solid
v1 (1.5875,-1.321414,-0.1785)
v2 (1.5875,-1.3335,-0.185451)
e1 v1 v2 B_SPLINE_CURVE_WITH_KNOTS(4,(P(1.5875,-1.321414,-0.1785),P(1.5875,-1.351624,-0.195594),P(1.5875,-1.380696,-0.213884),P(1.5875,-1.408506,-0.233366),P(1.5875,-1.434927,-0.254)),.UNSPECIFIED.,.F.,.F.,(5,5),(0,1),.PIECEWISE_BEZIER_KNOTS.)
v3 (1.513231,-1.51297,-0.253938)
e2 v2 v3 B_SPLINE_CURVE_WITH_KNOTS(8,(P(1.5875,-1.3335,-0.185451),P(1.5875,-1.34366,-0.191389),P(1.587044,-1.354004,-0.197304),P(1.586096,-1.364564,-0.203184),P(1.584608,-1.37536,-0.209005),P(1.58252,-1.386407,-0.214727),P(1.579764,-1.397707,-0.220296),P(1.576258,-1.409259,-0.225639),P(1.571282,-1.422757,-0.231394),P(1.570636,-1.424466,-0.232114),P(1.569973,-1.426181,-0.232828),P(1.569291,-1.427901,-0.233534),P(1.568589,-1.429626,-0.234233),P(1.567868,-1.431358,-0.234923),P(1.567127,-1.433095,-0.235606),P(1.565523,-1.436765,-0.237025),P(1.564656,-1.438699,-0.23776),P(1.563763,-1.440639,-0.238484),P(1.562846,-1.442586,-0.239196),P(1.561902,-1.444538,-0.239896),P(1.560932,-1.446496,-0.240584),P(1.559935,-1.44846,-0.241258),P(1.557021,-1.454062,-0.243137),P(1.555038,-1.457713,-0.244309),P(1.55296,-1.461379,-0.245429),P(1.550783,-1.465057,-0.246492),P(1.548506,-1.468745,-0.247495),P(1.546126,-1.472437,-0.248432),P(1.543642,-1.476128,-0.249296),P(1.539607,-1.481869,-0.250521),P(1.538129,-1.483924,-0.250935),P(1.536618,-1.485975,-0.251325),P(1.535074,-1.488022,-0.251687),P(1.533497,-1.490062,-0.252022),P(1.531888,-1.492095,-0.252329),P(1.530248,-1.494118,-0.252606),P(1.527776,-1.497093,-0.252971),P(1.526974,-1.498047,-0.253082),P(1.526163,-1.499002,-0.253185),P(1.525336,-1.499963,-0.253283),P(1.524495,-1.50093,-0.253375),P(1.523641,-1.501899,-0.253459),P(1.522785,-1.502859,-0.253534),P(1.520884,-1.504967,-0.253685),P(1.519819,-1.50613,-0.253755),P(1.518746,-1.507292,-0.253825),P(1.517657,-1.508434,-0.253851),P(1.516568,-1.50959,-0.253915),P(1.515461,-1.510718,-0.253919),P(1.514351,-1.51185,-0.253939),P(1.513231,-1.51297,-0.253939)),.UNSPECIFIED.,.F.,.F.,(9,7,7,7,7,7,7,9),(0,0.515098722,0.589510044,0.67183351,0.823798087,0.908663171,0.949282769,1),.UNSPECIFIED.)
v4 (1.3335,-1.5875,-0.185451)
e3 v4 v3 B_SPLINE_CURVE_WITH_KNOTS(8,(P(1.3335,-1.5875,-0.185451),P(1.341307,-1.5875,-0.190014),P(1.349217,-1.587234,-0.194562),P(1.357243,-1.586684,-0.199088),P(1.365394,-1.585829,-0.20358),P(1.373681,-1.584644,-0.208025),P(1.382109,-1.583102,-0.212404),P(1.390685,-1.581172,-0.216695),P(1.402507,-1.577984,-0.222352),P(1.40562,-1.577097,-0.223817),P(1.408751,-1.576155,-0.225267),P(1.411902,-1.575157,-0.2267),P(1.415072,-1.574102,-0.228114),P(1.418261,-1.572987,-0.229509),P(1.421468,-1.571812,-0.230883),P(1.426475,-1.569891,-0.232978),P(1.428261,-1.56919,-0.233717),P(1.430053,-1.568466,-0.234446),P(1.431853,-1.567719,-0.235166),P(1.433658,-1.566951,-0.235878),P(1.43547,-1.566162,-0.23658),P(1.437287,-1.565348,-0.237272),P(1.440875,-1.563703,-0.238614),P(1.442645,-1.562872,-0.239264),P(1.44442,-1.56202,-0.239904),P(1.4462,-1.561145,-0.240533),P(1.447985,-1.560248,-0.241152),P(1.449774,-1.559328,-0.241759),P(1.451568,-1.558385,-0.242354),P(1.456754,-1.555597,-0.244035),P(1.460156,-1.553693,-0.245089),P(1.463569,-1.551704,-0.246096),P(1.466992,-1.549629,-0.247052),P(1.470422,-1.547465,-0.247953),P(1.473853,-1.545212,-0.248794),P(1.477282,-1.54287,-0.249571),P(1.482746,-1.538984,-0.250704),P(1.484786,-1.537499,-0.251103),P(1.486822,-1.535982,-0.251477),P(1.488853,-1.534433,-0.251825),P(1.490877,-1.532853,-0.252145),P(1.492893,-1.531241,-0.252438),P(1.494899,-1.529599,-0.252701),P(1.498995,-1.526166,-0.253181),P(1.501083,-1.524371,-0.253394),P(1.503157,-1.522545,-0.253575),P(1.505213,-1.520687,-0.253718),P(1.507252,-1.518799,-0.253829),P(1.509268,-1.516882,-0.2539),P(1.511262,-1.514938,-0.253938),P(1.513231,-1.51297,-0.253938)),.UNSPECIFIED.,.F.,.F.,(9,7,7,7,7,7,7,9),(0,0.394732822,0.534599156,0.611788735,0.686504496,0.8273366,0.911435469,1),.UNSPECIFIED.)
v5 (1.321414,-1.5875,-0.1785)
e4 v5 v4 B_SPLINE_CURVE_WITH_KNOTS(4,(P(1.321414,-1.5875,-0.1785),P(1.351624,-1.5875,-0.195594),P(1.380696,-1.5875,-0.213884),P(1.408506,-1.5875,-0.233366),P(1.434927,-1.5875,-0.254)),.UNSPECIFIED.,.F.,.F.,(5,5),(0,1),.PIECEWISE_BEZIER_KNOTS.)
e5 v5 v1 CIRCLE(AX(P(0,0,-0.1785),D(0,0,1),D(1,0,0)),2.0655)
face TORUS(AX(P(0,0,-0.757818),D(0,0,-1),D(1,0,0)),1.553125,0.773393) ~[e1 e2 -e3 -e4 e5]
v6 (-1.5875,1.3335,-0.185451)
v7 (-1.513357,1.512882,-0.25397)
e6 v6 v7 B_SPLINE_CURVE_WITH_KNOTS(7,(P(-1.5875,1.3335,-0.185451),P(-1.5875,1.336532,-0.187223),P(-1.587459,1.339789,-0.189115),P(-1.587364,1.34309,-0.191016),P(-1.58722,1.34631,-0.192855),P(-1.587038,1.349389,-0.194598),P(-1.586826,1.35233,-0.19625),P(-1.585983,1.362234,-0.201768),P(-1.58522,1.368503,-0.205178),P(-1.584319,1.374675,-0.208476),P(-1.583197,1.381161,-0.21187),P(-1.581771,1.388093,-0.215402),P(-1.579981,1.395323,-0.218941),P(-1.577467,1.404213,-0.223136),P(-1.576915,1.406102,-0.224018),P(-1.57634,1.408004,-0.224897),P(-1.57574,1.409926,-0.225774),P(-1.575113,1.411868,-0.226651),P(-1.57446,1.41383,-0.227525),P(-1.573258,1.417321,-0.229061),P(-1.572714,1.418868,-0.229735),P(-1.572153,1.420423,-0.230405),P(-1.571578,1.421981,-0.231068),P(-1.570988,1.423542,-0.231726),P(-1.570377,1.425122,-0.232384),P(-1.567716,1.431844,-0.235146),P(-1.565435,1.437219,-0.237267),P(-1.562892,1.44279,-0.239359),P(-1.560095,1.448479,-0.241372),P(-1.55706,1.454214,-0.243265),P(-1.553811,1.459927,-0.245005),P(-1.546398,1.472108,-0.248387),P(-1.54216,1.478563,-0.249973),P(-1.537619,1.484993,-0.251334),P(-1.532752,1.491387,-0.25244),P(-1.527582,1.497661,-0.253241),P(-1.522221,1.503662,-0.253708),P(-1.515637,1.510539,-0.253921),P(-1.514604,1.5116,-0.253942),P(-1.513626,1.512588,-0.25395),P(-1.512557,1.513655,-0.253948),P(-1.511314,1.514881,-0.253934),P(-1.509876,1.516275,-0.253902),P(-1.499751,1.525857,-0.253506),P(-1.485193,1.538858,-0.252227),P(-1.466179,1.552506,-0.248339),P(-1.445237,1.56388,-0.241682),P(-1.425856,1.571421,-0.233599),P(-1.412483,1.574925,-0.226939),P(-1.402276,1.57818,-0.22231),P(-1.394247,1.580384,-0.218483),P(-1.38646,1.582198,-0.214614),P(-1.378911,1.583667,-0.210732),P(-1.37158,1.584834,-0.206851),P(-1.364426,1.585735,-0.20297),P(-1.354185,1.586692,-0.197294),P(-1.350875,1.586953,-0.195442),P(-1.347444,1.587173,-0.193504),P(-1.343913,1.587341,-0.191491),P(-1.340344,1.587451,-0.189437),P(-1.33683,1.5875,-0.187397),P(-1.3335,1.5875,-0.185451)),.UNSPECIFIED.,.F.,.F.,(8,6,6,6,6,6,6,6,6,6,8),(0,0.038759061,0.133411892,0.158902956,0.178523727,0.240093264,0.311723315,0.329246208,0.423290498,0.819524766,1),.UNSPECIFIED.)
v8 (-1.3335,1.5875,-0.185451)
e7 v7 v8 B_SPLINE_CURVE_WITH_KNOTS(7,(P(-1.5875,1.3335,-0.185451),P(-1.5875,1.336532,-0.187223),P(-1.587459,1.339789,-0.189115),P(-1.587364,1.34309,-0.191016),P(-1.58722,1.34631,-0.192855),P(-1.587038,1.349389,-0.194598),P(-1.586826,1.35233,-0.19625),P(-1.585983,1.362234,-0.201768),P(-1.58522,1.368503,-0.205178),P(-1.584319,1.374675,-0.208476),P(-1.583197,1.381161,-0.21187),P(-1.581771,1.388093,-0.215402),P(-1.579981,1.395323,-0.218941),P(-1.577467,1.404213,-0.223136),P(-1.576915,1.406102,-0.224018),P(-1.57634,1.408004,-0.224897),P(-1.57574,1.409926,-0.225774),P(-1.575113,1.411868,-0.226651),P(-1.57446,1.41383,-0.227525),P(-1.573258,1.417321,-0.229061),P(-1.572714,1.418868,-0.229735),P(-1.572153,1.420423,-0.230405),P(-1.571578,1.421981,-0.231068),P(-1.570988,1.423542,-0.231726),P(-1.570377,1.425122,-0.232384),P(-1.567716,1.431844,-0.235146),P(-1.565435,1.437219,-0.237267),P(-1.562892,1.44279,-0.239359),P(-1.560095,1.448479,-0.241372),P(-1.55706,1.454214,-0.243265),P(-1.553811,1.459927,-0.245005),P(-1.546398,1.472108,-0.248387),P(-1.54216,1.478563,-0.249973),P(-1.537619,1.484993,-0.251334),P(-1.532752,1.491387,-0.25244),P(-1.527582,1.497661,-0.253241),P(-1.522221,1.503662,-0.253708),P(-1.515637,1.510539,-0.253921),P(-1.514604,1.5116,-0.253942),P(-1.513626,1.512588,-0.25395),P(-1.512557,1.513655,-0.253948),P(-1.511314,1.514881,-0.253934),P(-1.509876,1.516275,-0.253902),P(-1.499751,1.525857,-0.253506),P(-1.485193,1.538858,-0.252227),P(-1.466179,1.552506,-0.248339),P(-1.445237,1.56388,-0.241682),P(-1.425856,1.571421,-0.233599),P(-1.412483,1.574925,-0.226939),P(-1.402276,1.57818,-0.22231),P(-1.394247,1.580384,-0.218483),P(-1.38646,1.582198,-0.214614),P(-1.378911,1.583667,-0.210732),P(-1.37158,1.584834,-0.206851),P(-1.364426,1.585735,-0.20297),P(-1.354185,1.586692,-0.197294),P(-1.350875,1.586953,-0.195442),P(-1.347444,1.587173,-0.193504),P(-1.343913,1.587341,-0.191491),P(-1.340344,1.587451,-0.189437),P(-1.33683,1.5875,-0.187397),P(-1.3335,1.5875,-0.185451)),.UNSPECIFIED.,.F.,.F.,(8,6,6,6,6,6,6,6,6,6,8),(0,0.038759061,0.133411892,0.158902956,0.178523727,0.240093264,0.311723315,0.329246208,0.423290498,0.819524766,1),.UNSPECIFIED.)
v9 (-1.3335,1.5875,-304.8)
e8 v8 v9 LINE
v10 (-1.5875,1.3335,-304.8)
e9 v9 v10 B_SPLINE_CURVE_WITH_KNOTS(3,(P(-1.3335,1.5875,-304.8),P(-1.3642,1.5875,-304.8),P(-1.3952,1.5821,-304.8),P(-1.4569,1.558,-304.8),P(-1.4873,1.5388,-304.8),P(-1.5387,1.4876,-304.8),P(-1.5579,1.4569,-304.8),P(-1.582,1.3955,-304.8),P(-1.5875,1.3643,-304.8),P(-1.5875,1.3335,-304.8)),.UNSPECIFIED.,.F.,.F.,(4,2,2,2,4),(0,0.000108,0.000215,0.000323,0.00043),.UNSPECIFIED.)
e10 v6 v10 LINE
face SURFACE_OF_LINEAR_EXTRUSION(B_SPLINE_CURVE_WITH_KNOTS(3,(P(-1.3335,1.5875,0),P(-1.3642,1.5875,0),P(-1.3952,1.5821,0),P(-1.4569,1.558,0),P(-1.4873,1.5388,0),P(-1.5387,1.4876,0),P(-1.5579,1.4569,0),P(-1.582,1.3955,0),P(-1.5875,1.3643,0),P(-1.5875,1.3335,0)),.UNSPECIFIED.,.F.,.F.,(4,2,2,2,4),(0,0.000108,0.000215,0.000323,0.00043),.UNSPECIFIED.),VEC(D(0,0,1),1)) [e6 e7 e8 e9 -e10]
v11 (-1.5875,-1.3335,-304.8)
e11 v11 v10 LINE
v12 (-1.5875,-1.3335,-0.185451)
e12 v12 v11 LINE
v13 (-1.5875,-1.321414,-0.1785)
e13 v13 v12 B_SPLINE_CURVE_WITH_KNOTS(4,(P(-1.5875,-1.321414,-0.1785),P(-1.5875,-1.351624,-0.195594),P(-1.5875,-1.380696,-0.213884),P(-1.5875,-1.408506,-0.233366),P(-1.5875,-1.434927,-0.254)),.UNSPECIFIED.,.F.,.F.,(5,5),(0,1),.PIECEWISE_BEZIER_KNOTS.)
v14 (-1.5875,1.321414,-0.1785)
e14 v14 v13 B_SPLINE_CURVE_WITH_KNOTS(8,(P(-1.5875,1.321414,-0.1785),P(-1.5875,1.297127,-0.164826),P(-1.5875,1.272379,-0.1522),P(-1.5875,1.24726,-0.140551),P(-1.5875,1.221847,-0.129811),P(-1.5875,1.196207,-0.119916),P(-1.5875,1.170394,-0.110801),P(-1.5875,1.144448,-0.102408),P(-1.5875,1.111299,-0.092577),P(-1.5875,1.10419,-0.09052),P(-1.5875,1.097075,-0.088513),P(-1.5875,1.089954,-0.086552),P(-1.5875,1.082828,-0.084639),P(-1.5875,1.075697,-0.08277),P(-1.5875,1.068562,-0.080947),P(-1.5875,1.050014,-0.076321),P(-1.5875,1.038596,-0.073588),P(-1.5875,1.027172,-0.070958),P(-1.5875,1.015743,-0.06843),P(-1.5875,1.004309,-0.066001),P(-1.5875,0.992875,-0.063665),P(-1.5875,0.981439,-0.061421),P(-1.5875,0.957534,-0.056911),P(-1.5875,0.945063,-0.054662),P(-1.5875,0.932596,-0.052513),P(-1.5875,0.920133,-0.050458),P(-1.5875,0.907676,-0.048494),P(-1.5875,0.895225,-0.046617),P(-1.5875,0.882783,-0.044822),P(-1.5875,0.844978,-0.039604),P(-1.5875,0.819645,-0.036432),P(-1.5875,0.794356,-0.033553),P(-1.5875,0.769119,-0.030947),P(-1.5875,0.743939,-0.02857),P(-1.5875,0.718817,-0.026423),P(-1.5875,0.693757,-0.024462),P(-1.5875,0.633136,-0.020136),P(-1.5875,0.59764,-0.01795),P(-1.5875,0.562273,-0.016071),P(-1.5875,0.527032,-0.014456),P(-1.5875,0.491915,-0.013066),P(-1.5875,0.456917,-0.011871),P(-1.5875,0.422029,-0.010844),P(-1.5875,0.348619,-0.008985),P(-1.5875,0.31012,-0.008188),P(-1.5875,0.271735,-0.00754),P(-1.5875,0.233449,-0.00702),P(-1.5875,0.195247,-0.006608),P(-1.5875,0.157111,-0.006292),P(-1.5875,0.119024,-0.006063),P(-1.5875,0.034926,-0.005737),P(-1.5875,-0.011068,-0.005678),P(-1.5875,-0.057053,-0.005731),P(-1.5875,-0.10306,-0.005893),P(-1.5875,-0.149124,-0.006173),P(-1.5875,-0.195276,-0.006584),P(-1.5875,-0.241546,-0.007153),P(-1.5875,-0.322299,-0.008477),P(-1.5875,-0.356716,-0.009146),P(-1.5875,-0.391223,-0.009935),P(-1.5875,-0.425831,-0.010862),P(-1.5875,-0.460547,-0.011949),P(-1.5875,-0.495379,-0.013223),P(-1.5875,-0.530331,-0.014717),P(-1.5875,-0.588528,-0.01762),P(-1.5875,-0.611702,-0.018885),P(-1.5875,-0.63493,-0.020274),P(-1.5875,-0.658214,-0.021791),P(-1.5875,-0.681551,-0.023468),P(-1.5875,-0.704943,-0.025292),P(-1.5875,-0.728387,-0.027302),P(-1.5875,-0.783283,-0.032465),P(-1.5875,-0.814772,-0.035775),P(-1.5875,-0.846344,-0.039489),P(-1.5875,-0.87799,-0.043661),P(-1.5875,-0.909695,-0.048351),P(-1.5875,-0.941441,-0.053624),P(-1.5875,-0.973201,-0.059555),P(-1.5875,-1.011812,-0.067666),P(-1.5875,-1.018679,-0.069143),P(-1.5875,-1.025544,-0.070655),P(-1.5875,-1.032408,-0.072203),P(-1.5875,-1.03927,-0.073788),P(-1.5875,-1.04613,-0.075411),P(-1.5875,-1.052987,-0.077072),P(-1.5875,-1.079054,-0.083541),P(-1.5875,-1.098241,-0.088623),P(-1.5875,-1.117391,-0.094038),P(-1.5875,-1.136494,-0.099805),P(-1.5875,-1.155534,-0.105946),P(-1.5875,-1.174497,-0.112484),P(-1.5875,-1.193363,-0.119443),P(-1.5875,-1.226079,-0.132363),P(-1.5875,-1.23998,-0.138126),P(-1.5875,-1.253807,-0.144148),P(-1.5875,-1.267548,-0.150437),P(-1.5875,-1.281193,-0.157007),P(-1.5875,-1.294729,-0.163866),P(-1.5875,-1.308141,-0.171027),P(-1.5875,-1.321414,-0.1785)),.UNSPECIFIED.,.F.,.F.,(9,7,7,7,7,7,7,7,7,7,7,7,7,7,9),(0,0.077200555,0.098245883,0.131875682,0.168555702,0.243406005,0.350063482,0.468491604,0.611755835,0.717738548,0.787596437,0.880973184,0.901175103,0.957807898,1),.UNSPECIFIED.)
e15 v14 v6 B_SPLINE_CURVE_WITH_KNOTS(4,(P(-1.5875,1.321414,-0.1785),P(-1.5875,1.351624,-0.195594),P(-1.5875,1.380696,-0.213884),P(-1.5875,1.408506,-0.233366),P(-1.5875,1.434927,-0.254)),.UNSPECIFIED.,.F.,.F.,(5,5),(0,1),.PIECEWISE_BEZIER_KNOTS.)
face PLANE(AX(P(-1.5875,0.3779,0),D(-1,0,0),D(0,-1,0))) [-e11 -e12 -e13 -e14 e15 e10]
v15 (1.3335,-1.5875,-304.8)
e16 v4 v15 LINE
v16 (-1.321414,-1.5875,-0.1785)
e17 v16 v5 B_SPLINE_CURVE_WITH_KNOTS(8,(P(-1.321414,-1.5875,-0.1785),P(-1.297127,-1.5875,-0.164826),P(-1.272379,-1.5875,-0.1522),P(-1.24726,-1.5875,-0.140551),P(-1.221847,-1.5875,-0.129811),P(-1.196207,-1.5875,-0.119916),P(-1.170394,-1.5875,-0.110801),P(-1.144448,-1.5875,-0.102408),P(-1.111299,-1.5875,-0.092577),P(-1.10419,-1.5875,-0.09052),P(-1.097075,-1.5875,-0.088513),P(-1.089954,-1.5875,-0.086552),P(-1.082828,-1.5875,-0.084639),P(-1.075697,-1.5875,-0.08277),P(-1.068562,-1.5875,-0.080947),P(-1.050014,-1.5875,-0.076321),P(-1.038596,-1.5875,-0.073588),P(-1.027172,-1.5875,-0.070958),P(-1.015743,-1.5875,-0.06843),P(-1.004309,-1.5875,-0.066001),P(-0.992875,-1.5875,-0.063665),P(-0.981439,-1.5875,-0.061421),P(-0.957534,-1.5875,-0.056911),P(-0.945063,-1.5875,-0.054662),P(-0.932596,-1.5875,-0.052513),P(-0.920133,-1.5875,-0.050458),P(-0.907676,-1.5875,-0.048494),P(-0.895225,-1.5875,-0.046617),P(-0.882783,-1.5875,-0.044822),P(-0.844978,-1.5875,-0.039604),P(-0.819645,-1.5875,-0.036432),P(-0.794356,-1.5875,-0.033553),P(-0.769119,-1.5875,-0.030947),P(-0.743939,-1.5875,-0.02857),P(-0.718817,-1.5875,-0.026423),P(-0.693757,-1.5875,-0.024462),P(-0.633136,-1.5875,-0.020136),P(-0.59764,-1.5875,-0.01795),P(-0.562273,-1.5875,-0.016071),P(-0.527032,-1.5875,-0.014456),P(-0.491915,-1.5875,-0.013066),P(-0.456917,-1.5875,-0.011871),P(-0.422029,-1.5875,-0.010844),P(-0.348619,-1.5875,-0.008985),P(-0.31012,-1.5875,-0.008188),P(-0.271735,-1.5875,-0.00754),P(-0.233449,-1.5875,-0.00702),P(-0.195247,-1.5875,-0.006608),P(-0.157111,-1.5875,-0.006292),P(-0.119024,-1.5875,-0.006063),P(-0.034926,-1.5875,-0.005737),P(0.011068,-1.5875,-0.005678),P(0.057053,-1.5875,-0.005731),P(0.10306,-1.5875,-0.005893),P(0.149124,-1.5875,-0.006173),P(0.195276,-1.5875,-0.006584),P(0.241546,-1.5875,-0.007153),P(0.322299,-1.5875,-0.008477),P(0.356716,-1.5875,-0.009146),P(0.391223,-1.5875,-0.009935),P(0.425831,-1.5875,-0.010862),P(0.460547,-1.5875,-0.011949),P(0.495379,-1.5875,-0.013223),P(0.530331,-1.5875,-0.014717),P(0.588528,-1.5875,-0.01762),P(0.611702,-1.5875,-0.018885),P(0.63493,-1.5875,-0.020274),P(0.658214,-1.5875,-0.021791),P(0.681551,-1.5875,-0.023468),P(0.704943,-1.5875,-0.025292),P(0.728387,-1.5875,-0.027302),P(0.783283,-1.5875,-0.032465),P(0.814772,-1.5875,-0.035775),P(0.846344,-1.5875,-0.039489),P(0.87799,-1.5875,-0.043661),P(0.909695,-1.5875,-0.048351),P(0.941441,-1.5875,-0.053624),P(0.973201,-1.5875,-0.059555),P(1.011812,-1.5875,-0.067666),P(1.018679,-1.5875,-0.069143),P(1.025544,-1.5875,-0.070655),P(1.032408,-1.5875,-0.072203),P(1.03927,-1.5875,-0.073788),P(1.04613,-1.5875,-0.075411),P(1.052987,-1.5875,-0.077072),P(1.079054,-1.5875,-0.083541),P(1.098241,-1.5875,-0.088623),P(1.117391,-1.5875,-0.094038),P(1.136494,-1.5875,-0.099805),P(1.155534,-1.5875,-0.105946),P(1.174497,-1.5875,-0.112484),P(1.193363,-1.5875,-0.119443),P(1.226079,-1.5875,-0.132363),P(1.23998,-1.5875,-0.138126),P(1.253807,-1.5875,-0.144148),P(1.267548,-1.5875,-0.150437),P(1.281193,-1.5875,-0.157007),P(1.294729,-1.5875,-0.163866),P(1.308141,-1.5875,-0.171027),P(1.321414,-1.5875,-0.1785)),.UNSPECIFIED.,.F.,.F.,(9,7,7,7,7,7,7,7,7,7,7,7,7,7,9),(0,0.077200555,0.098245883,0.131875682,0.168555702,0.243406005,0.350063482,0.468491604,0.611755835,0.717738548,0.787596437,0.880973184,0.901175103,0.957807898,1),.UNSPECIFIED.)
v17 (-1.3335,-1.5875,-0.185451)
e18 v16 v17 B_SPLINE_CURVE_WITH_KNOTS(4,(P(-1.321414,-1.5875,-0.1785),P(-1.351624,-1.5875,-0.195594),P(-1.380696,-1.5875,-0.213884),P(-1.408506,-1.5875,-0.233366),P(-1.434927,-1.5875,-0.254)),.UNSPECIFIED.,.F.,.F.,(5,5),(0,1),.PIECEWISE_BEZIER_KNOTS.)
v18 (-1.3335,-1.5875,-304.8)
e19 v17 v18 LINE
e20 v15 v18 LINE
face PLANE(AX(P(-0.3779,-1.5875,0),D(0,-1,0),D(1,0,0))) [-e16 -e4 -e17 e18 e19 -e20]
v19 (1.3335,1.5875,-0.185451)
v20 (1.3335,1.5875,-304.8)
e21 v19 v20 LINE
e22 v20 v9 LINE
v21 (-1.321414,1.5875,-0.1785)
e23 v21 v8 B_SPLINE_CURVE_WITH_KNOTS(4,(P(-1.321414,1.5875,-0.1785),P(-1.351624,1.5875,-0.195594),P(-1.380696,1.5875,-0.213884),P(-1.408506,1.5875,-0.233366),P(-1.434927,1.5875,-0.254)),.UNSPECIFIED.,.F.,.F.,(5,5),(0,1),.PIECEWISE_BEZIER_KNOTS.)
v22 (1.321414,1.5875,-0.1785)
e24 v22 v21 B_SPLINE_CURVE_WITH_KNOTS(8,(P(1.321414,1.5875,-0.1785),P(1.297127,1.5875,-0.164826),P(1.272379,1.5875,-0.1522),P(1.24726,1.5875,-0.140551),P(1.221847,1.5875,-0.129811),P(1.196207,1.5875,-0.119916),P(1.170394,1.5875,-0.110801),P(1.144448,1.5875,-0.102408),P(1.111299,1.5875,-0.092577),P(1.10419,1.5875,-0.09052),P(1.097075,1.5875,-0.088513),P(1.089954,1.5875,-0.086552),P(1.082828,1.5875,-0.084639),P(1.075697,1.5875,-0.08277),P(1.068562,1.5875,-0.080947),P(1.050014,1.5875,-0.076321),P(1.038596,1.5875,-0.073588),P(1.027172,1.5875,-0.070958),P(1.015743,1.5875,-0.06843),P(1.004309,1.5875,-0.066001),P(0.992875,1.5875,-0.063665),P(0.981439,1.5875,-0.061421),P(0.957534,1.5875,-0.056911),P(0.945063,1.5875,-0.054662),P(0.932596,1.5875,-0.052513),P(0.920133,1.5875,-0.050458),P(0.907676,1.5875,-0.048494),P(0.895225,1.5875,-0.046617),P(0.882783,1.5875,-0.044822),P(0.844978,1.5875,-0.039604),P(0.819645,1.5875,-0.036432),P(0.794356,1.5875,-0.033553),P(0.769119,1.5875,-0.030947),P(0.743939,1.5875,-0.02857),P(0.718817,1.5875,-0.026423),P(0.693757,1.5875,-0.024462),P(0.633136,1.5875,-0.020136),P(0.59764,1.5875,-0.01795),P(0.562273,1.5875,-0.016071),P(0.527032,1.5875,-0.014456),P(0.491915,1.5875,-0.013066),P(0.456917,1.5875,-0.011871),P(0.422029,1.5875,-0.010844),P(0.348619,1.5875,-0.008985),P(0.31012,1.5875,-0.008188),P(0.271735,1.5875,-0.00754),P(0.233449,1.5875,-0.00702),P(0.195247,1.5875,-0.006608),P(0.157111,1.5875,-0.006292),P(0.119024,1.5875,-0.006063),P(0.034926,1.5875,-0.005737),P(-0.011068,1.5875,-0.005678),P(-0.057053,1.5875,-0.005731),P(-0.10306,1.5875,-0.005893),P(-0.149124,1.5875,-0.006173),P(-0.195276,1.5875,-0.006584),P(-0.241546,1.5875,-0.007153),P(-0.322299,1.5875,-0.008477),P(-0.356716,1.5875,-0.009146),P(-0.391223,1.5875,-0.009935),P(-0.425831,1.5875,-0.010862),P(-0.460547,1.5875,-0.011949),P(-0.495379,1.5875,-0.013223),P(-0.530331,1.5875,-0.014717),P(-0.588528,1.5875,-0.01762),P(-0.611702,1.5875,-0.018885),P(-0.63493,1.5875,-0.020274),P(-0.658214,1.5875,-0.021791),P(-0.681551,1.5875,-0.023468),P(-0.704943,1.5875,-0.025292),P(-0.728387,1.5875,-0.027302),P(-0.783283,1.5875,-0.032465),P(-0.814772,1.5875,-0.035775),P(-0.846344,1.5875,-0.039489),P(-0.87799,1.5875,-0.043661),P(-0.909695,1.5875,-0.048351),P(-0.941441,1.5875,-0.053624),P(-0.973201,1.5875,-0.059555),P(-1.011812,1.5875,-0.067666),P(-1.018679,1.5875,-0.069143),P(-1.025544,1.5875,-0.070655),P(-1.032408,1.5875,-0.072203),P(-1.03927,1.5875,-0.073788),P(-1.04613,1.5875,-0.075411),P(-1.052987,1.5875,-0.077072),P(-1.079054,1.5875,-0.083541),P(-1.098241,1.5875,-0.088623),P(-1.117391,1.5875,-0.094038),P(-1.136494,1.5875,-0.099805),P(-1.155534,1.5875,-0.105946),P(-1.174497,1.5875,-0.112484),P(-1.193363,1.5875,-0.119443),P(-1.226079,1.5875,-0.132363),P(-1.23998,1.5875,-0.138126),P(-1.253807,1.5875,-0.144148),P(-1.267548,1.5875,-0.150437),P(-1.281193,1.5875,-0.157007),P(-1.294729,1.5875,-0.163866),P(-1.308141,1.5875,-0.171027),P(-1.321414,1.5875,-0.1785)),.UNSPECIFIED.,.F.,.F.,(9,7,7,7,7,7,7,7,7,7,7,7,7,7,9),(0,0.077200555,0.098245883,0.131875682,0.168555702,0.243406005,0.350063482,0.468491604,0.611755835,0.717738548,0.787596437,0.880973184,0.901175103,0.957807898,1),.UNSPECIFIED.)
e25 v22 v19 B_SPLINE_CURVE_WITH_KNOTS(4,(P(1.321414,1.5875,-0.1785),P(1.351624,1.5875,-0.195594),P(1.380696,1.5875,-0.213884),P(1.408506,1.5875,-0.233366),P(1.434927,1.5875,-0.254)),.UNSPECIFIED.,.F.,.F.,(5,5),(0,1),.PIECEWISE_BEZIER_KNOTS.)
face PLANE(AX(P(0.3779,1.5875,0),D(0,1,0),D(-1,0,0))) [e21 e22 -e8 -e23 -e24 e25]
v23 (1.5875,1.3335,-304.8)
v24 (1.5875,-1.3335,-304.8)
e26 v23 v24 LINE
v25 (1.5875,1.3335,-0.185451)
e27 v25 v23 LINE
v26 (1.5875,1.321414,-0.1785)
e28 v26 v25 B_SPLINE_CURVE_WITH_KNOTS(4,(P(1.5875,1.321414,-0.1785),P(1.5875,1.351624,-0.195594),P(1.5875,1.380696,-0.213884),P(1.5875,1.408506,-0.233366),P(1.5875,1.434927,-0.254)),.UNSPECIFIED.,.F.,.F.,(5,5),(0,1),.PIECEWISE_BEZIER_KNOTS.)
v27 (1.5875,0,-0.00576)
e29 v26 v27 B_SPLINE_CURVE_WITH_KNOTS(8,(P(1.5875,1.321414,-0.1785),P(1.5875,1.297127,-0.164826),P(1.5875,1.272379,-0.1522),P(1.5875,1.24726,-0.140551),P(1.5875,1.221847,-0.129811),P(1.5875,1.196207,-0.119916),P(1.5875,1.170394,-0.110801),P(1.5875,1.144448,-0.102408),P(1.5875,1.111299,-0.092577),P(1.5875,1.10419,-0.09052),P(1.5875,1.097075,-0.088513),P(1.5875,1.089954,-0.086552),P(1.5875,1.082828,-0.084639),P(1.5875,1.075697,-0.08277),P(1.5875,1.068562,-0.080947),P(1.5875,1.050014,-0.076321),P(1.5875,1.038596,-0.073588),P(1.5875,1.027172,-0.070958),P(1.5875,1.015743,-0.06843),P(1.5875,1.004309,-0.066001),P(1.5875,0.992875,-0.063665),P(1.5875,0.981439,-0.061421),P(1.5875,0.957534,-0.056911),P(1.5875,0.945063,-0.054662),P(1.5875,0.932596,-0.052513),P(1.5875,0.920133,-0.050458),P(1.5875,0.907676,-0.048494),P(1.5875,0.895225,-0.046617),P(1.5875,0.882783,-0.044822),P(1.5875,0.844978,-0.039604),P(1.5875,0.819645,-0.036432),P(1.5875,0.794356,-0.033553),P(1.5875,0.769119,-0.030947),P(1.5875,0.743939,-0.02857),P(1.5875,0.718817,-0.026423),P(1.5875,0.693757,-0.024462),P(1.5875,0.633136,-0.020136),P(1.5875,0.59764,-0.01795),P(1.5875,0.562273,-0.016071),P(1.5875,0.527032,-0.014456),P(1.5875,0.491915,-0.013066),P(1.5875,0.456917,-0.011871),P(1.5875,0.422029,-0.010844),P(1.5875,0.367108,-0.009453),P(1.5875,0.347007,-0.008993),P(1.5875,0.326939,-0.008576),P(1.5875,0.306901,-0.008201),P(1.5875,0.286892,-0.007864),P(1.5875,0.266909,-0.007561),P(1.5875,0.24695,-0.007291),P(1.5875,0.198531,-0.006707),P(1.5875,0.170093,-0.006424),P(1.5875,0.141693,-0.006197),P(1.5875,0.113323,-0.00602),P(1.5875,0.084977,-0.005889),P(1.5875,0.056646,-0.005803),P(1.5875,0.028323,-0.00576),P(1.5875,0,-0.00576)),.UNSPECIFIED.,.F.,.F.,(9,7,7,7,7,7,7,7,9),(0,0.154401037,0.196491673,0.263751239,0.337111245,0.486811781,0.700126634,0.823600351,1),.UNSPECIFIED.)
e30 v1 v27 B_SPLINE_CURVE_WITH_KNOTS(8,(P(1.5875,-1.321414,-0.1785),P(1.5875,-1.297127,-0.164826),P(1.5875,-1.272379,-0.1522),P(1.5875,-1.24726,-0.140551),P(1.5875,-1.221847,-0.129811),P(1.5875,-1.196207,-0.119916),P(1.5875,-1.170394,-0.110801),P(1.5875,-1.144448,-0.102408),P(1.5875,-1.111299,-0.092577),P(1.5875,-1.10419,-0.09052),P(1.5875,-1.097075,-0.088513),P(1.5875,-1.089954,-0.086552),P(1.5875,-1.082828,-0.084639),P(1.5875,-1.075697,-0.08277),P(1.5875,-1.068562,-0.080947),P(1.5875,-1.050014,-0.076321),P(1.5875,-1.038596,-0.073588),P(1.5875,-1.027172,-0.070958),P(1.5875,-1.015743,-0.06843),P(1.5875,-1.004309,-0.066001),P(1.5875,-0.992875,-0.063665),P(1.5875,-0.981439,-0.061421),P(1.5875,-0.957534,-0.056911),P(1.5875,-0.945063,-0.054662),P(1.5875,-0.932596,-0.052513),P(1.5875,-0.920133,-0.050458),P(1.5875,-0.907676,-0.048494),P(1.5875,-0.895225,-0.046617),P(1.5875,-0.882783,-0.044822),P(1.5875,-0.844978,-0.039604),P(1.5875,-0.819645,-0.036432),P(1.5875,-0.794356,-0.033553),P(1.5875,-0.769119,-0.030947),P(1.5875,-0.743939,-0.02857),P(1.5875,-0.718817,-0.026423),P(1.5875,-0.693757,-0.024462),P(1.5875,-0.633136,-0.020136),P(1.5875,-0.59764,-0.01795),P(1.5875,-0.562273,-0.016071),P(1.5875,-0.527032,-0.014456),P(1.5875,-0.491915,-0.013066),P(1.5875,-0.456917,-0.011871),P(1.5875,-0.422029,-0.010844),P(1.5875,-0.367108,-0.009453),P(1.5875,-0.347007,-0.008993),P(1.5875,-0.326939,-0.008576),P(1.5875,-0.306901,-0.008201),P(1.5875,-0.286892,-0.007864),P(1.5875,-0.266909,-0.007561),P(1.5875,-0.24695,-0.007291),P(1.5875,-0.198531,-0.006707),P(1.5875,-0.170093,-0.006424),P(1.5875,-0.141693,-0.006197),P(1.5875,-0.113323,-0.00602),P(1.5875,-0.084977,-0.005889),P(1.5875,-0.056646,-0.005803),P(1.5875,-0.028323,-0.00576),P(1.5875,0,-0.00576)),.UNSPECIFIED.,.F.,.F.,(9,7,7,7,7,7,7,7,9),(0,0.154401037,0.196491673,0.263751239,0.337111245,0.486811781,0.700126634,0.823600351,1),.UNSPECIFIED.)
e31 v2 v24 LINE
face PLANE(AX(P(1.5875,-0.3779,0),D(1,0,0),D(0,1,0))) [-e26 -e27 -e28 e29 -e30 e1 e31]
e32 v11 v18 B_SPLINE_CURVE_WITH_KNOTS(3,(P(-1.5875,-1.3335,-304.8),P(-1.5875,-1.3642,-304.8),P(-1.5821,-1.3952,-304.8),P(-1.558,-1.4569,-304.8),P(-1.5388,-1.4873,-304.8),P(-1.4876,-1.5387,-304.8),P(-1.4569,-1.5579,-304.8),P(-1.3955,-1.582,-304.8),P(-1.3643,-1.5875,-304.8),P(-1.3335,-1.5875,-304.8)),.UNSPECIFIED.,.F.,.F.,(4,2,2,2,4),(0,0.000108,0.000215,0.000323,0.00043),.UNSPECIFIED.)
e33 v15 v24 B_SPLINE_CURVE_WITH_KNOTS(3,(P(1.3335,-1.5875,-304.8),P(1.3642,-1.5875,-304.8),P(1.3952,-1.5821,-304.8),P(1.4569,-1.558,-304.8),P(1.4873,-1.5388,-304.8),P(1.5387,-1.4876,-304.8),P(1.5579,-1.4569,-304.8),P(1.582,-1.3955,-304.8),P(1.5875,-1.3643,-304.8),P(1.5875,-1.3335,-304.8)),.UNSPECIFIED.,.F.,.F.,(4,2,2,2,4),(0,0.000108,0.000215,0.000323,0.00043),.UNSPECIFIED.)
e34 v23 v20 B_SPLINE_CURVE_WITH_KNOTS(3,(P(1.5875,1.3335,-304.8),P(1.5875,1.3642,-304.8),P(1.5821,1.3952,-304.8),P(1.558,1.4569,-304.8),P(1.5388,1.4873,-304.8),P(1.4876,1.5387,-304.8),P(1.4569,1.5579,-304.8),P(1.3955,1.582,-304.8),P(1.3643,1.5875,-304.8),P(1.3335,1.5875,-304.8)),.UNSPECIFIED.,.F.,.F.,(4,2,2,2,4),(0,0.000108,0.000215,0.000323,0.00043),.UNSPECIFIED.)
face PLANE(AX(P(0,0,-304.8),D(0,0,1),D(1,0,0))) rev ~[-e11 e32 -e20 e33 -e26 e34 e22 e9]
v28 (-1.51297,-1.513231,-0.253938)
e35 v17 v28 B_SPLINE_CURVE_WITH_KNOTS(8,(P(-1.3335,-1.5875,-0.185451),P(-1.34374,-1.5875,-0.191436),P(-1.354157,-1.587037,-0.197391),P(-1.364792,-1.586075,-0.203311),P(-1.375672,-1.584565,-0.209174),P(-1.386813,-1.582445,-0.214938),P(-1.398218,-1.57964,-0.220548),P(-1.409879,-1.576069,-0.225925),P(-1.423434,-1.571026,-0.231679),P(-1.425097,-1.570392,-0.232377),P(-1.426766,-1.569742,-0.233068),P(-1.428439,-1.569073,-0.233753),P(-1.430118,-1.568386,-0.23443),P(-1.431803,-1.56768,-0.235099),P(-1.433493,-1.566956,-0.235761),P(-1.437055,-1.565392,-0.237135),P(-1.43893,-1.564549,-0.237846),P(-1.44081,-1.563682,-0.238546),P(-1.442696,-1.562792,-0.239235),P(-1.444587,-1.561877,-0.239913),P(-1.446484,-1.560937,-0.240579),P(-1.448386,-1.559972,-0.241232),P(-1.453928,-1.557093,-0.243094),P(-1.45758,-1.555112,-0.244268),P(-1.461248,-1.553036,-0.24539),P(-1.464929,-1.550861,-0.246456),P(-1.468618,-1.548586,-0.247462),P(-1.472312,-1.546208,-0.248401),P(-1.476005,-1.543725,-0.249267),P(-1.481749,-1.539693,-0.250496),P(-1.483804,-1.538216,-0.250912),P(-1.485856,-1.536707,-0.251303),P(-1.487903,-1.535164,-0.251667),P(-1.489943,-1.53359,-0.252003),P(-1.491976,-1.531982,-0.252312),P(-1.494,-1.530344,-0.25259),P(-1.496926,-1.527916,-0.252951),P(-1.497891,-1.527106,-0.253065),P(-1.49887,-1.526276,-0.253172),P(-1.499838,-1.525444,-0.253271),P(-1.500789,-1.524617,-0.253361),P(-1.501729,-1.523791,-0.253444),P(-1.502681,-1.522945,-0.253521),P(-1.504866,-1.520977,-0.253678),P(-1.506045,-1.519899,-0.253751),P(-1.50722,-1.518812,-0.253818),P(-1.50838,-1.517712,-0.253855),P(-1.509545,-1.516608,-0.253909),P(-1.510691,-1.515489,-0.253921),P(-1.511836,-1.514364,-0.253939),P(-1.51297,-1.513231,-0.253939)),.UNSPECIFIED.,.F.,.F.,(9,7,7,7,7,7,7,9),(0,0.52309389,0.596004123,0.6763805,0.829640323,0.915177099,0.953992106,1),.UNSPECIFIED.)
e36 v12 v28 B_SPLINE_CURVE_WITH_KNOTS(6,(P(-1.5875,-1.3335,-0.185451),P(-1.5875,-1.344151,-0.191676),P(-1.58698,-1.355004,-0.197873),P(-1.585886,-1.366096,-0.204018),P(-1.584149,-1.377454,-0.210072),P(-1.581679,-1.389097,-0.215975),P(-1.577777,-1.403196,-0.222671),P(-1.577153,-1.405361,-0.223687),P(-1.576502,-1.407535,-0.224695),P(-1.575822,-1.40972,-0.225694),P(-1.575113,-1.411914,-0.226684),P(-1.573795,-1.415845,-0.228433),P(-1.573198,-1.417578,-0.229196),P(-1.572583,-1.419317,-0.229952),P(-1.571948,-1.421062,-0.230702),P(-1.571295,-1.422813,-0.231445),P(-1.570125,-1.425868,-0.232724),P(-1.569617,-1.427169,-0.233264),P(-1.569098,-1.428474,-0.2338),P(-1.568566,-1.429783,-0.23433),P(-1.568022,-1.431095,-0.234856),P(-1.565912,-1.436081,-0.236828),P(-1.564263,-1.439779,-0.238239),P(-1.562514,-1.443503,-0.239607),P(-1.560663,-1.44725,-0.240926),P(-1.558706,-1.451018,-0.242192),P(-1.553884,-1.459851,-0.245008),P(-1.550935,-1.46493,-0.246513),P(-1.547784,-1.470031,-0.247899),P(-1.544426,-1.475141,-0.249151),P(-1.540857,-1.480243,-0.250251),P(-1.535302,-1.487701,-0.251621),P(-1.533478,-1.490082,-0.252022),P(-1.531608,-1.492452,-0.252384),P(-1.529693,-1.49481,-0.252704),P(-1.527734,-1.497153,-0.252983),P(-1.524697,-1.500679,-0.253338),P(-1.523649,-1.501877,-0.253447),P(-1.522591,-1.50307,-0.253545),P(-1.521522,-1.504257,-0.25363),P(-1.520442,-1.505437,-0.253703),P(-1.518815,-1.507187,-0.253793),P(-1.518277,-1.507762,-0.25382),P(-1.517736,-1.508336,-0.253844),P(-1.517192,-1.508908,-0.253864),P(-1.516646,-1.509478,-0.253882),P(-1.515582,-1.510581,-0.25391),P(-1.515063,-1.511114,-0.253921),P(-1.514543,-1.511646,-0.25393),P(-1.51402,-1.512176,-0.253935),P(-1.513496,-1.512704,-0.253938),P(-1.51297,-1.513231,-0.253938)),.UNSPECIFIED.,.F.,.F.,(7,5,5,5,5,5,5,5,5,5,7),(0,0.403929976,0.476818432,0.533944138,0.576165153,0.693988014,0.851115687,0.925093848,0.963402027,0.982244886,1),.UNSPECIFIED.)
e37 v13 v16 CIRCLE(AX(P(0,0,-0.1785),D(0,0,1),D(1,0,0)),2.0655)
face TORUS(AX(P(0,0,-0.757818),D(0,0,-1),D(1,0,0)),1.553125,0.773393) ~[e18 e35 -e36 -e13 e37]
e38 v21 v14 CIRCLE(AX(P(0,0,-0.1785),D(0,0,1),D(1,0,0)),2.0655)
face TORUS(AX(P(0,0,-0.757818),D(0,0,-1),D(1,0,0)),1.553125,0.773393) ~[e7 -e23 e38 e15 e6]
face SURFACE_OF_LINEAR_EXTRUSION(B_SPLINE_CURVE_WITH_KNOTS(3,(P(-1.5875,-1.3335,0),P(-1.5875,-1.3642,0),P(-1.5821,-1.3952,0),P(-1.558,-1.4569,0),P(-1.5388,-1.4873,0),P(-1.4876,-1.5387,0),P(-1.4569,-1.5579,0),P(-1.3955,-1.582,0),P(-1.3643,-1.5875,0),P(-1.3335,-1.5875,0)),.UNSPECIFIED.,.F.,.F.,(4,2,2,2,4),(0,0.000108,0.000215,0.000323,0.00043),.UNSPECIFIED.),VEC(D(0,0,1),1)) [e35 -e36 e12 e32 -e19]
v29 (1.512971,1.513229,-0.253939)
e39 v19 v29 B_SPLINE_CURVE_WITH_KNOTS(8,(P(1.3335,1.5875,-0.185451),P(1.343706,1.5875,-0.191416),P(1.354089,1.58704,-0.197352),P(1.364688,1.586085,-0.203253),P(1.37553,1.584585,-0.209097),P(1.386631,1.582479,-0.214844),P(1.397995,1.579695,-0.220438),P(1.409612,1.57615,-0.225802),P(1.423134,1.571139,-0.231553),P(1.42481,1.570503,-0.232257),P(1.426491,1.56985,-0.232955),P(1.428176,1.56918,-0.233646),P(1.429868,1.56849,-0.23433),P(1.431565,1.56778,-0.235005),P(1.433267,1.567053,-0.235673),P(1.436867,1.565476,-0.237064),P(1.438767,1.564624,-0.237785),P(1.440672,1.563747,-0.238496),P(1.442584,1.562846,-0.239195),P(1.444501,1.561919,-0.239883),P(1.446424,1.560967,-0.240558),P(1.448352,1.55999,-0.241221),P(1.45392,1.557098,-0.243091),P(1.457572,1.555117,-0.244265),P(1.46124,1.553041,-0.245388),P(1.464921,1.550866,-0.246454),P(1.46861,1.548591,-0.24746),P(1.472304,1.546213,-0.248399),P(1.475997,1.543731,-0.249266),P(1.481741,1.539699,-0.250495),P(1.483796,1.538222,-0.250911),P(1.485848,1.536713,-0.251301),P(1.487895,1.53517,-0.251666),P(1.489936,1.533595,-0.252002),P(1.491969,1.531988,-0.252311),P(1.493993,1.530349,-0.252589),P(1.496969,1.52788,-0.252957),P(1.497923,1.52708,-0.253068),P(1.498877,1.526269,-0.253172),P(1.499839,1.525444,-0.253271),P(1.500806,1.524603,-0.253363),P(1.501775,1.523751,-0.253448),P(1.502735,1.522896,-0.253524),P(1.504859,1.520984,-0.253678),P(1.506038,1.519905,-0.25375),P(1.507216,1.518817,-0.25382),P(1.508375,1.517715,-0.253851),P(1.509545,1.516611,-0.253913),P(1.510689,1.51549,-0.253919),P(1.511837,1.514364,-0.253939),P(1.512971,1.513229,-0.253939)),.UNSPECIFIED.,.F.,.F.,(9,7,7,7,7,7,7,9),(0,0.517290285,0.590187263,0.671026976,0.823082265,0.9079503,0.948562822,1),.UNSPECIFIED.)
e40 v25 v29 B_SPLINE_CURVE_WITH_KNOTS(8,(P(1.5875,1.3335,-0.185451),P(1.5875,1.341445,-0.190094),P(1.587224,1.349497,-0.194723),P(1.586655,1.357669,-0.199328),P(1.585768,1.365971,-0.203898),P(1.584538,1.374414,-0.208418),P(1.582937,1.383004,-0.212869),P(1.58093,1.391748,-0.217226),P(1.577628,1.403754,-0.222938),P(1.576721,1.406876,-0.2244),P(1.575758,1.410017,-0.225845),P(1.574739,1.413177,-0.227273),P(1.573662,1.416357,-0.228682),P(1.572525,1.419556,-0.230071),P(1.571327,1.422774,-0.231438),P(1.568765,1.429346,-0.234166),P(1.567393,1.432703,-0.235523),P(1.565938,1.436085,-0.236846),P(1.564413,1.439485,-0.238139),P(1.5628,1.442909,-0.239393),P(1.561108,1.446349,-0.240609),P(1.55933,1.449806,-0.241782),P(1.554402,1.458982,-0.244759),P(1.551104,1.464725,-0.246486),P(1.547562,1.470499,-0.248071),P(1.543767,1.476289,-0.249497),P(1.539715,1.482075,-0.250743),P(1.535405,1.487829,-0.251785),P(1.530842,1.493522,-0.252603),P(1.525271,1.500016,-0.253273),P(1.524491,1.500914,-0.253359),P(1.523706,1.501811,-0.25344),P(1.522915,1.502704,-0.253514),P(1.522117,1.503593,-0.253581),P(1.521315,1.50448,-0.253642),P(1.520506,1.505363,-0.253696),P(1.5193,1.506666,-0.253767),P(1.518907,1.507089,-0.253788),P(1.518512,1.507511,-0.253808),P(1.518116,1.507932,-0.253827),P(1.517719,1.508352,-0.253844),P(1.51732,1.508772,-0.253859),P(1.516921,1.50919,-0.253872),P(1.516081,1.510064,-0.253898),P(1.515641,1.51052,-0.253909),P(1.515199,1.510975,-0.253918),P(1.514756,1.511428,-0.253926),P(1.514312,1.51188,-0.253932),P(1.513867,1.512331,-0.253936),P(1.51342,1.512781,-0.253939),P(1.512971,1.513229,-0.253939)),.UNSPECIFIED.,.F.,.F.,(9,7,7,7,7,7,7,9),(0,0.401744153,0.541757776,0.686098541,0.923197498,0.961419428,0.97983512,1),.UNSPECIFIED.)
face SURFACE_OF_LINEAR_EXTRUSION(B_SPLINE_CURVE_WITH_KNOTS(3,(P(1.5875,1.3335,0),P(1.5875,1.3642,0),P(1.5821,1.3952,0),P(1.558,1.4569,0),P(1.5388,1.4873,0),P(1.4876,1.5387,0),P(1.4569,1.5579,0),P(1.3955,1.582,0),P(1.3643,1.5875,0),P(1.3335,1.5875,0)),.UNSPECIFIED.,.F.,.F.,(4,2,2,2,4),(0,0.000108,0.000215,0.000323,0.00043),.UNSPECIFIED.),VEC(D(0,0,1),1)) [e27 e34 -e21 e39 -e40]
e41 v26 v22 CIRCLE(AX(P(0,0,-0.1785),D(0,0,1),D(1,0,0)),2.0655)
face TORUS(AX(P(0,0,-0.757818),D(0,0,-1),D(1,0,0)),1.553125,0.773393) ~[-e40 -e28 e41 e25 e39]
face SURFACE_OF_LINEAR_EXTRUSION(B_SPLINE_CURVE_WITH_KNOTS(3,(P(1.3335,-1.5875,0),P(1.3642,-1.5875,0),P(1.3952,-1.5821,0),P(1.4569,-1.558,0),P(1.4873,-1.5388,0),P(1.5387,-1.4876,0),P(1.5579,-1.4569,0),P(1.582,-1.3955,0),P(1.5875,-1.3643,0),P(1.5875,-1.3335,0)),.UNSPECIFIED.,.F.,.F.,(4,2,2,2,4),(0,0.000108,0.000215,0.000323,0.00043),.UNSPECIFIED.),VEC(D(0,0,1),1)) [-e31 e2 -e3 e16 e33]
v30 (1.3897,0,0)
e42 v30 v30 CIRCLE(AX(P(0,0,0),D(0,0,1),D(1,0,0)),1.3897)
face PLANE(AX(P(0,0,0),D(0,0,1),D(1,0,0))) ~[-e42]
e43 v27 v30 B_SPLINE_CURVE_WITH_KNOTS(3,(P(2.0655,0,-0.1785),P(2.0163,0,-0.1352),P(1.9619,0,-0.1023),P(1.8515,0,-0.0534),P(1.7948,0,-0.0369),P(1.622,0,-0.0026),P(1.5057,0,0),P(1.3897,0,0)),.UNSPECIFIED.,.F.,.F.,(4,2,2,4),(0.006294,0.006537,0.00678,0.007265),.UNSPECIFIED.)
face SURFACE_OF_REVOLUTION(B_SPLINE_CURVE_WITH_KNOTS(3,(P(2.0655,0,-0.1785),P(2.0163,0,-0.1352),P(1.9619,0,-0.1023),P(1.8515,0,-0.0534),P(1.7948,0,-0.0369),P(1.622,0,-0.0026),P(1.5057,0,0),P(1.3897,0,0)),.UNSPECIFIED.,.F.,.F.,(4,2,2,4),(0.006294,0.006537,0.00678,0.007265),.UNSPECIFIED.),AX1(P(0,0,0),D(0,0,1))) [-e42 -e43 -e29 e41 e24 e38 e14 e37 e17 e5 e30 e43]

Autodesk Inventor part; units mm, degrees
ref_plane "YZ Plane" through (0, 0, 0) normal (1, 0, 0) x (0, 1, 0)
sketch "Sketch1" plane through (0, 0, 0) normal (0, 0, 1) x (1, 0, 0)
  line L0 (-1.5875, 0.3779) -> (-1.5875, -0.3779)
  arc A0 (-1.5875, -0.3779) -> (-0.3779, -1.5875) centre (0, 0) ccw
  line L1 (-0.3779, -1.5875) -> (0.3779, -1.5875)
  arc A1 (0.3779, -1.5875) -> (1.5875, -0.3779) centre (0, 0) ccw
  line L2 (1.5875, -0.3779) -> (1.5875, 0.3779)
  arc A2 (1.5875, 0.3779) -> (0.3779, 1.5875) centre (0, 0) ccw
  line L3 (0.3779, 1.5875) -> (-0.3779, 1.5875)
  arc A3 (-0.3779, 1.5875) -> (-1.5875, 0.3779) centre (0, 0) ccw
  arc A4 (-0.3779, 1.5875) -> (-1.5875, 0.3779) centre (0, 0) ccw
  line L4 (-1.3335, 1.5875) -> (-0.3779, 1.5875)
  spline S0 degree 3 poles (-1.3335, 1.5875) (-1.3642, 1.5875) (-1.3952, 1.5821) (-1.4569, 1.558) (-1.4873, 1.5388) (-1.5387, 1.4876) (-1.5579, 1.4569) (-1.582, 1.3955) (-1.5875, 1.3643) (-1.5875, 1.3335) knots 0 0 0 0 0.000108 0.000108 0.000215 0.000215 0.000323 0.000323 0.00043 0.00043 0.00043 0.00043
  line L5 (-1.5875, 0.3779) -> (-1.5875, 1.3335)
  line L6 (1.5875, 1.3335) -> (1.5875, 0.3779)
  spline S1 degree 3 poles (1.5875, 1.3335) (1.5875, 1.3642) (1.5821, 1.3952) (1.558, 1.4569) (1.5388, 1.4873) (1.4876, 1.5387) (1.4569, 1.5579) (1.3955, 1.582) (1.3643, 1.5875) (1.3335, 1.5875) knots 0 0 0 0 0.000108 0.000108 0.000215 0.000215 0.000323 0.000323 0.00043 0.00043 0.00043 0.00043
  line L7 (0.3779, 1.5875) -> (1.3335, 1.5875)
  arc A5 (1.5875, 0.3779) -> (0.3779, 1.5875) centre (0, 0) ccw
  spline S2 degree 3 poles (1.3335, -1.5875) (1.3642, -1.5875) (1.3952, -1.5821) (1.4569, -1.558) (1.4873, -1.5388) (1.5387, -1.4876) (1.5579, -1.4569) (1.582, -1.3955) (1.5875, -1.3643) (1.5875, -1.3335) knots 0 0 0 0 0.000108 0.000108 0.000215 0.000215 0.000323 0.000323 0.00043 0.00043 0.00043 0.00043
  line L8 (1.5875, -0.3779) -> (1.5875, -1.3335)
  arc A6 (0.3779, -1.5875) -> (1.5875, -0.3779) centre (0, 0) ccw
  line L9 (1.3335, -1.5875) -> (0.3779, -1.5875)
  spline S3 degree 3 poles (-1.5875, -1.3335) (-1.5875, -1.3642) (-1.5821, -1.3952) (-1.558, -1.4569) (-1.5388, -1.4873) (-1.4876, -1.5387) (-1.4569, -1.5579) (-1.3955, -1.582) (-1.3643, -1.5875) (-1.3335, -1.5875) knots 0 0 0 0 0.000108 0.000108 0.000215 0.000215 0.000323 0.000323 0.00043 0.00043 0.00043 0.00043
  line L10 (-0.3779, -1.5875) -> (-1.3335, -1.5875)
  arc A7 (-1.5875, -0.3779) -> (-0.3779, -1.5875) centre (0, 0) ccw
  line L11 (-1.5875, -1.3335) -> (-1.5875, -0.3779)
extrude "Extrusion1" add sketch "Sketch1" against normal blind 304.8
ref_plane "Work Plane1" through (0, 0, 0) normal (0, 1, 0) x (0, 0, 1)
sketch "Sketch2" plane through (0, 0, 0) normal (0, 1, 0) x (0, 0, 1)
  spline S0 degree 3 poles (-0.1785, 2.0655) (-0.1352, 2.0163) (-0.1023, 1.9619) (-0.0534, 1.8515) (-0.0369, 1.7948) (-0.0026, 1.622) (0, 1.5057) (0, 1.3897) knots 0.006294 0.006294 0.006294 0.006294 0.006537 0.006537 0.00678 0.00678 0.007265 0.007265 0.007265 0.007265
  line L0 (0, 0) -> (0.3519, 0)
  line L1 (0.3519, 0) -> (0.3519, 2.1399)
  line L2 (0.3519, 2.1399) -> (-0.254, 2.1399)
  arc A0 (-0.1785, 2.0655) -> (-0.254, 2.1399) centre (-0.757, 1.5539) ccw
  line L3 (0, 0) -> (0, 1.3897)
  line L4 (-365.8304, 0) -> (61.3823, 0) projected
  point P0 (0, 0)
revolve "Revolution1" cut sketch "Sketch2" angle 360 about axis through (0, 0, 0) along (0, 0, 1)
ref_plane "工作平面3" through (0, 0, -304.8) normal (0, 0, 1) x (1, 0, 0)
split "分割1" plane through (0, 0, -304.8) removes the side toward (0, 0, -1)
equation "\"Length\" = 304.8"
equation "\"d4\" = -Length"
properties material "Steel"
